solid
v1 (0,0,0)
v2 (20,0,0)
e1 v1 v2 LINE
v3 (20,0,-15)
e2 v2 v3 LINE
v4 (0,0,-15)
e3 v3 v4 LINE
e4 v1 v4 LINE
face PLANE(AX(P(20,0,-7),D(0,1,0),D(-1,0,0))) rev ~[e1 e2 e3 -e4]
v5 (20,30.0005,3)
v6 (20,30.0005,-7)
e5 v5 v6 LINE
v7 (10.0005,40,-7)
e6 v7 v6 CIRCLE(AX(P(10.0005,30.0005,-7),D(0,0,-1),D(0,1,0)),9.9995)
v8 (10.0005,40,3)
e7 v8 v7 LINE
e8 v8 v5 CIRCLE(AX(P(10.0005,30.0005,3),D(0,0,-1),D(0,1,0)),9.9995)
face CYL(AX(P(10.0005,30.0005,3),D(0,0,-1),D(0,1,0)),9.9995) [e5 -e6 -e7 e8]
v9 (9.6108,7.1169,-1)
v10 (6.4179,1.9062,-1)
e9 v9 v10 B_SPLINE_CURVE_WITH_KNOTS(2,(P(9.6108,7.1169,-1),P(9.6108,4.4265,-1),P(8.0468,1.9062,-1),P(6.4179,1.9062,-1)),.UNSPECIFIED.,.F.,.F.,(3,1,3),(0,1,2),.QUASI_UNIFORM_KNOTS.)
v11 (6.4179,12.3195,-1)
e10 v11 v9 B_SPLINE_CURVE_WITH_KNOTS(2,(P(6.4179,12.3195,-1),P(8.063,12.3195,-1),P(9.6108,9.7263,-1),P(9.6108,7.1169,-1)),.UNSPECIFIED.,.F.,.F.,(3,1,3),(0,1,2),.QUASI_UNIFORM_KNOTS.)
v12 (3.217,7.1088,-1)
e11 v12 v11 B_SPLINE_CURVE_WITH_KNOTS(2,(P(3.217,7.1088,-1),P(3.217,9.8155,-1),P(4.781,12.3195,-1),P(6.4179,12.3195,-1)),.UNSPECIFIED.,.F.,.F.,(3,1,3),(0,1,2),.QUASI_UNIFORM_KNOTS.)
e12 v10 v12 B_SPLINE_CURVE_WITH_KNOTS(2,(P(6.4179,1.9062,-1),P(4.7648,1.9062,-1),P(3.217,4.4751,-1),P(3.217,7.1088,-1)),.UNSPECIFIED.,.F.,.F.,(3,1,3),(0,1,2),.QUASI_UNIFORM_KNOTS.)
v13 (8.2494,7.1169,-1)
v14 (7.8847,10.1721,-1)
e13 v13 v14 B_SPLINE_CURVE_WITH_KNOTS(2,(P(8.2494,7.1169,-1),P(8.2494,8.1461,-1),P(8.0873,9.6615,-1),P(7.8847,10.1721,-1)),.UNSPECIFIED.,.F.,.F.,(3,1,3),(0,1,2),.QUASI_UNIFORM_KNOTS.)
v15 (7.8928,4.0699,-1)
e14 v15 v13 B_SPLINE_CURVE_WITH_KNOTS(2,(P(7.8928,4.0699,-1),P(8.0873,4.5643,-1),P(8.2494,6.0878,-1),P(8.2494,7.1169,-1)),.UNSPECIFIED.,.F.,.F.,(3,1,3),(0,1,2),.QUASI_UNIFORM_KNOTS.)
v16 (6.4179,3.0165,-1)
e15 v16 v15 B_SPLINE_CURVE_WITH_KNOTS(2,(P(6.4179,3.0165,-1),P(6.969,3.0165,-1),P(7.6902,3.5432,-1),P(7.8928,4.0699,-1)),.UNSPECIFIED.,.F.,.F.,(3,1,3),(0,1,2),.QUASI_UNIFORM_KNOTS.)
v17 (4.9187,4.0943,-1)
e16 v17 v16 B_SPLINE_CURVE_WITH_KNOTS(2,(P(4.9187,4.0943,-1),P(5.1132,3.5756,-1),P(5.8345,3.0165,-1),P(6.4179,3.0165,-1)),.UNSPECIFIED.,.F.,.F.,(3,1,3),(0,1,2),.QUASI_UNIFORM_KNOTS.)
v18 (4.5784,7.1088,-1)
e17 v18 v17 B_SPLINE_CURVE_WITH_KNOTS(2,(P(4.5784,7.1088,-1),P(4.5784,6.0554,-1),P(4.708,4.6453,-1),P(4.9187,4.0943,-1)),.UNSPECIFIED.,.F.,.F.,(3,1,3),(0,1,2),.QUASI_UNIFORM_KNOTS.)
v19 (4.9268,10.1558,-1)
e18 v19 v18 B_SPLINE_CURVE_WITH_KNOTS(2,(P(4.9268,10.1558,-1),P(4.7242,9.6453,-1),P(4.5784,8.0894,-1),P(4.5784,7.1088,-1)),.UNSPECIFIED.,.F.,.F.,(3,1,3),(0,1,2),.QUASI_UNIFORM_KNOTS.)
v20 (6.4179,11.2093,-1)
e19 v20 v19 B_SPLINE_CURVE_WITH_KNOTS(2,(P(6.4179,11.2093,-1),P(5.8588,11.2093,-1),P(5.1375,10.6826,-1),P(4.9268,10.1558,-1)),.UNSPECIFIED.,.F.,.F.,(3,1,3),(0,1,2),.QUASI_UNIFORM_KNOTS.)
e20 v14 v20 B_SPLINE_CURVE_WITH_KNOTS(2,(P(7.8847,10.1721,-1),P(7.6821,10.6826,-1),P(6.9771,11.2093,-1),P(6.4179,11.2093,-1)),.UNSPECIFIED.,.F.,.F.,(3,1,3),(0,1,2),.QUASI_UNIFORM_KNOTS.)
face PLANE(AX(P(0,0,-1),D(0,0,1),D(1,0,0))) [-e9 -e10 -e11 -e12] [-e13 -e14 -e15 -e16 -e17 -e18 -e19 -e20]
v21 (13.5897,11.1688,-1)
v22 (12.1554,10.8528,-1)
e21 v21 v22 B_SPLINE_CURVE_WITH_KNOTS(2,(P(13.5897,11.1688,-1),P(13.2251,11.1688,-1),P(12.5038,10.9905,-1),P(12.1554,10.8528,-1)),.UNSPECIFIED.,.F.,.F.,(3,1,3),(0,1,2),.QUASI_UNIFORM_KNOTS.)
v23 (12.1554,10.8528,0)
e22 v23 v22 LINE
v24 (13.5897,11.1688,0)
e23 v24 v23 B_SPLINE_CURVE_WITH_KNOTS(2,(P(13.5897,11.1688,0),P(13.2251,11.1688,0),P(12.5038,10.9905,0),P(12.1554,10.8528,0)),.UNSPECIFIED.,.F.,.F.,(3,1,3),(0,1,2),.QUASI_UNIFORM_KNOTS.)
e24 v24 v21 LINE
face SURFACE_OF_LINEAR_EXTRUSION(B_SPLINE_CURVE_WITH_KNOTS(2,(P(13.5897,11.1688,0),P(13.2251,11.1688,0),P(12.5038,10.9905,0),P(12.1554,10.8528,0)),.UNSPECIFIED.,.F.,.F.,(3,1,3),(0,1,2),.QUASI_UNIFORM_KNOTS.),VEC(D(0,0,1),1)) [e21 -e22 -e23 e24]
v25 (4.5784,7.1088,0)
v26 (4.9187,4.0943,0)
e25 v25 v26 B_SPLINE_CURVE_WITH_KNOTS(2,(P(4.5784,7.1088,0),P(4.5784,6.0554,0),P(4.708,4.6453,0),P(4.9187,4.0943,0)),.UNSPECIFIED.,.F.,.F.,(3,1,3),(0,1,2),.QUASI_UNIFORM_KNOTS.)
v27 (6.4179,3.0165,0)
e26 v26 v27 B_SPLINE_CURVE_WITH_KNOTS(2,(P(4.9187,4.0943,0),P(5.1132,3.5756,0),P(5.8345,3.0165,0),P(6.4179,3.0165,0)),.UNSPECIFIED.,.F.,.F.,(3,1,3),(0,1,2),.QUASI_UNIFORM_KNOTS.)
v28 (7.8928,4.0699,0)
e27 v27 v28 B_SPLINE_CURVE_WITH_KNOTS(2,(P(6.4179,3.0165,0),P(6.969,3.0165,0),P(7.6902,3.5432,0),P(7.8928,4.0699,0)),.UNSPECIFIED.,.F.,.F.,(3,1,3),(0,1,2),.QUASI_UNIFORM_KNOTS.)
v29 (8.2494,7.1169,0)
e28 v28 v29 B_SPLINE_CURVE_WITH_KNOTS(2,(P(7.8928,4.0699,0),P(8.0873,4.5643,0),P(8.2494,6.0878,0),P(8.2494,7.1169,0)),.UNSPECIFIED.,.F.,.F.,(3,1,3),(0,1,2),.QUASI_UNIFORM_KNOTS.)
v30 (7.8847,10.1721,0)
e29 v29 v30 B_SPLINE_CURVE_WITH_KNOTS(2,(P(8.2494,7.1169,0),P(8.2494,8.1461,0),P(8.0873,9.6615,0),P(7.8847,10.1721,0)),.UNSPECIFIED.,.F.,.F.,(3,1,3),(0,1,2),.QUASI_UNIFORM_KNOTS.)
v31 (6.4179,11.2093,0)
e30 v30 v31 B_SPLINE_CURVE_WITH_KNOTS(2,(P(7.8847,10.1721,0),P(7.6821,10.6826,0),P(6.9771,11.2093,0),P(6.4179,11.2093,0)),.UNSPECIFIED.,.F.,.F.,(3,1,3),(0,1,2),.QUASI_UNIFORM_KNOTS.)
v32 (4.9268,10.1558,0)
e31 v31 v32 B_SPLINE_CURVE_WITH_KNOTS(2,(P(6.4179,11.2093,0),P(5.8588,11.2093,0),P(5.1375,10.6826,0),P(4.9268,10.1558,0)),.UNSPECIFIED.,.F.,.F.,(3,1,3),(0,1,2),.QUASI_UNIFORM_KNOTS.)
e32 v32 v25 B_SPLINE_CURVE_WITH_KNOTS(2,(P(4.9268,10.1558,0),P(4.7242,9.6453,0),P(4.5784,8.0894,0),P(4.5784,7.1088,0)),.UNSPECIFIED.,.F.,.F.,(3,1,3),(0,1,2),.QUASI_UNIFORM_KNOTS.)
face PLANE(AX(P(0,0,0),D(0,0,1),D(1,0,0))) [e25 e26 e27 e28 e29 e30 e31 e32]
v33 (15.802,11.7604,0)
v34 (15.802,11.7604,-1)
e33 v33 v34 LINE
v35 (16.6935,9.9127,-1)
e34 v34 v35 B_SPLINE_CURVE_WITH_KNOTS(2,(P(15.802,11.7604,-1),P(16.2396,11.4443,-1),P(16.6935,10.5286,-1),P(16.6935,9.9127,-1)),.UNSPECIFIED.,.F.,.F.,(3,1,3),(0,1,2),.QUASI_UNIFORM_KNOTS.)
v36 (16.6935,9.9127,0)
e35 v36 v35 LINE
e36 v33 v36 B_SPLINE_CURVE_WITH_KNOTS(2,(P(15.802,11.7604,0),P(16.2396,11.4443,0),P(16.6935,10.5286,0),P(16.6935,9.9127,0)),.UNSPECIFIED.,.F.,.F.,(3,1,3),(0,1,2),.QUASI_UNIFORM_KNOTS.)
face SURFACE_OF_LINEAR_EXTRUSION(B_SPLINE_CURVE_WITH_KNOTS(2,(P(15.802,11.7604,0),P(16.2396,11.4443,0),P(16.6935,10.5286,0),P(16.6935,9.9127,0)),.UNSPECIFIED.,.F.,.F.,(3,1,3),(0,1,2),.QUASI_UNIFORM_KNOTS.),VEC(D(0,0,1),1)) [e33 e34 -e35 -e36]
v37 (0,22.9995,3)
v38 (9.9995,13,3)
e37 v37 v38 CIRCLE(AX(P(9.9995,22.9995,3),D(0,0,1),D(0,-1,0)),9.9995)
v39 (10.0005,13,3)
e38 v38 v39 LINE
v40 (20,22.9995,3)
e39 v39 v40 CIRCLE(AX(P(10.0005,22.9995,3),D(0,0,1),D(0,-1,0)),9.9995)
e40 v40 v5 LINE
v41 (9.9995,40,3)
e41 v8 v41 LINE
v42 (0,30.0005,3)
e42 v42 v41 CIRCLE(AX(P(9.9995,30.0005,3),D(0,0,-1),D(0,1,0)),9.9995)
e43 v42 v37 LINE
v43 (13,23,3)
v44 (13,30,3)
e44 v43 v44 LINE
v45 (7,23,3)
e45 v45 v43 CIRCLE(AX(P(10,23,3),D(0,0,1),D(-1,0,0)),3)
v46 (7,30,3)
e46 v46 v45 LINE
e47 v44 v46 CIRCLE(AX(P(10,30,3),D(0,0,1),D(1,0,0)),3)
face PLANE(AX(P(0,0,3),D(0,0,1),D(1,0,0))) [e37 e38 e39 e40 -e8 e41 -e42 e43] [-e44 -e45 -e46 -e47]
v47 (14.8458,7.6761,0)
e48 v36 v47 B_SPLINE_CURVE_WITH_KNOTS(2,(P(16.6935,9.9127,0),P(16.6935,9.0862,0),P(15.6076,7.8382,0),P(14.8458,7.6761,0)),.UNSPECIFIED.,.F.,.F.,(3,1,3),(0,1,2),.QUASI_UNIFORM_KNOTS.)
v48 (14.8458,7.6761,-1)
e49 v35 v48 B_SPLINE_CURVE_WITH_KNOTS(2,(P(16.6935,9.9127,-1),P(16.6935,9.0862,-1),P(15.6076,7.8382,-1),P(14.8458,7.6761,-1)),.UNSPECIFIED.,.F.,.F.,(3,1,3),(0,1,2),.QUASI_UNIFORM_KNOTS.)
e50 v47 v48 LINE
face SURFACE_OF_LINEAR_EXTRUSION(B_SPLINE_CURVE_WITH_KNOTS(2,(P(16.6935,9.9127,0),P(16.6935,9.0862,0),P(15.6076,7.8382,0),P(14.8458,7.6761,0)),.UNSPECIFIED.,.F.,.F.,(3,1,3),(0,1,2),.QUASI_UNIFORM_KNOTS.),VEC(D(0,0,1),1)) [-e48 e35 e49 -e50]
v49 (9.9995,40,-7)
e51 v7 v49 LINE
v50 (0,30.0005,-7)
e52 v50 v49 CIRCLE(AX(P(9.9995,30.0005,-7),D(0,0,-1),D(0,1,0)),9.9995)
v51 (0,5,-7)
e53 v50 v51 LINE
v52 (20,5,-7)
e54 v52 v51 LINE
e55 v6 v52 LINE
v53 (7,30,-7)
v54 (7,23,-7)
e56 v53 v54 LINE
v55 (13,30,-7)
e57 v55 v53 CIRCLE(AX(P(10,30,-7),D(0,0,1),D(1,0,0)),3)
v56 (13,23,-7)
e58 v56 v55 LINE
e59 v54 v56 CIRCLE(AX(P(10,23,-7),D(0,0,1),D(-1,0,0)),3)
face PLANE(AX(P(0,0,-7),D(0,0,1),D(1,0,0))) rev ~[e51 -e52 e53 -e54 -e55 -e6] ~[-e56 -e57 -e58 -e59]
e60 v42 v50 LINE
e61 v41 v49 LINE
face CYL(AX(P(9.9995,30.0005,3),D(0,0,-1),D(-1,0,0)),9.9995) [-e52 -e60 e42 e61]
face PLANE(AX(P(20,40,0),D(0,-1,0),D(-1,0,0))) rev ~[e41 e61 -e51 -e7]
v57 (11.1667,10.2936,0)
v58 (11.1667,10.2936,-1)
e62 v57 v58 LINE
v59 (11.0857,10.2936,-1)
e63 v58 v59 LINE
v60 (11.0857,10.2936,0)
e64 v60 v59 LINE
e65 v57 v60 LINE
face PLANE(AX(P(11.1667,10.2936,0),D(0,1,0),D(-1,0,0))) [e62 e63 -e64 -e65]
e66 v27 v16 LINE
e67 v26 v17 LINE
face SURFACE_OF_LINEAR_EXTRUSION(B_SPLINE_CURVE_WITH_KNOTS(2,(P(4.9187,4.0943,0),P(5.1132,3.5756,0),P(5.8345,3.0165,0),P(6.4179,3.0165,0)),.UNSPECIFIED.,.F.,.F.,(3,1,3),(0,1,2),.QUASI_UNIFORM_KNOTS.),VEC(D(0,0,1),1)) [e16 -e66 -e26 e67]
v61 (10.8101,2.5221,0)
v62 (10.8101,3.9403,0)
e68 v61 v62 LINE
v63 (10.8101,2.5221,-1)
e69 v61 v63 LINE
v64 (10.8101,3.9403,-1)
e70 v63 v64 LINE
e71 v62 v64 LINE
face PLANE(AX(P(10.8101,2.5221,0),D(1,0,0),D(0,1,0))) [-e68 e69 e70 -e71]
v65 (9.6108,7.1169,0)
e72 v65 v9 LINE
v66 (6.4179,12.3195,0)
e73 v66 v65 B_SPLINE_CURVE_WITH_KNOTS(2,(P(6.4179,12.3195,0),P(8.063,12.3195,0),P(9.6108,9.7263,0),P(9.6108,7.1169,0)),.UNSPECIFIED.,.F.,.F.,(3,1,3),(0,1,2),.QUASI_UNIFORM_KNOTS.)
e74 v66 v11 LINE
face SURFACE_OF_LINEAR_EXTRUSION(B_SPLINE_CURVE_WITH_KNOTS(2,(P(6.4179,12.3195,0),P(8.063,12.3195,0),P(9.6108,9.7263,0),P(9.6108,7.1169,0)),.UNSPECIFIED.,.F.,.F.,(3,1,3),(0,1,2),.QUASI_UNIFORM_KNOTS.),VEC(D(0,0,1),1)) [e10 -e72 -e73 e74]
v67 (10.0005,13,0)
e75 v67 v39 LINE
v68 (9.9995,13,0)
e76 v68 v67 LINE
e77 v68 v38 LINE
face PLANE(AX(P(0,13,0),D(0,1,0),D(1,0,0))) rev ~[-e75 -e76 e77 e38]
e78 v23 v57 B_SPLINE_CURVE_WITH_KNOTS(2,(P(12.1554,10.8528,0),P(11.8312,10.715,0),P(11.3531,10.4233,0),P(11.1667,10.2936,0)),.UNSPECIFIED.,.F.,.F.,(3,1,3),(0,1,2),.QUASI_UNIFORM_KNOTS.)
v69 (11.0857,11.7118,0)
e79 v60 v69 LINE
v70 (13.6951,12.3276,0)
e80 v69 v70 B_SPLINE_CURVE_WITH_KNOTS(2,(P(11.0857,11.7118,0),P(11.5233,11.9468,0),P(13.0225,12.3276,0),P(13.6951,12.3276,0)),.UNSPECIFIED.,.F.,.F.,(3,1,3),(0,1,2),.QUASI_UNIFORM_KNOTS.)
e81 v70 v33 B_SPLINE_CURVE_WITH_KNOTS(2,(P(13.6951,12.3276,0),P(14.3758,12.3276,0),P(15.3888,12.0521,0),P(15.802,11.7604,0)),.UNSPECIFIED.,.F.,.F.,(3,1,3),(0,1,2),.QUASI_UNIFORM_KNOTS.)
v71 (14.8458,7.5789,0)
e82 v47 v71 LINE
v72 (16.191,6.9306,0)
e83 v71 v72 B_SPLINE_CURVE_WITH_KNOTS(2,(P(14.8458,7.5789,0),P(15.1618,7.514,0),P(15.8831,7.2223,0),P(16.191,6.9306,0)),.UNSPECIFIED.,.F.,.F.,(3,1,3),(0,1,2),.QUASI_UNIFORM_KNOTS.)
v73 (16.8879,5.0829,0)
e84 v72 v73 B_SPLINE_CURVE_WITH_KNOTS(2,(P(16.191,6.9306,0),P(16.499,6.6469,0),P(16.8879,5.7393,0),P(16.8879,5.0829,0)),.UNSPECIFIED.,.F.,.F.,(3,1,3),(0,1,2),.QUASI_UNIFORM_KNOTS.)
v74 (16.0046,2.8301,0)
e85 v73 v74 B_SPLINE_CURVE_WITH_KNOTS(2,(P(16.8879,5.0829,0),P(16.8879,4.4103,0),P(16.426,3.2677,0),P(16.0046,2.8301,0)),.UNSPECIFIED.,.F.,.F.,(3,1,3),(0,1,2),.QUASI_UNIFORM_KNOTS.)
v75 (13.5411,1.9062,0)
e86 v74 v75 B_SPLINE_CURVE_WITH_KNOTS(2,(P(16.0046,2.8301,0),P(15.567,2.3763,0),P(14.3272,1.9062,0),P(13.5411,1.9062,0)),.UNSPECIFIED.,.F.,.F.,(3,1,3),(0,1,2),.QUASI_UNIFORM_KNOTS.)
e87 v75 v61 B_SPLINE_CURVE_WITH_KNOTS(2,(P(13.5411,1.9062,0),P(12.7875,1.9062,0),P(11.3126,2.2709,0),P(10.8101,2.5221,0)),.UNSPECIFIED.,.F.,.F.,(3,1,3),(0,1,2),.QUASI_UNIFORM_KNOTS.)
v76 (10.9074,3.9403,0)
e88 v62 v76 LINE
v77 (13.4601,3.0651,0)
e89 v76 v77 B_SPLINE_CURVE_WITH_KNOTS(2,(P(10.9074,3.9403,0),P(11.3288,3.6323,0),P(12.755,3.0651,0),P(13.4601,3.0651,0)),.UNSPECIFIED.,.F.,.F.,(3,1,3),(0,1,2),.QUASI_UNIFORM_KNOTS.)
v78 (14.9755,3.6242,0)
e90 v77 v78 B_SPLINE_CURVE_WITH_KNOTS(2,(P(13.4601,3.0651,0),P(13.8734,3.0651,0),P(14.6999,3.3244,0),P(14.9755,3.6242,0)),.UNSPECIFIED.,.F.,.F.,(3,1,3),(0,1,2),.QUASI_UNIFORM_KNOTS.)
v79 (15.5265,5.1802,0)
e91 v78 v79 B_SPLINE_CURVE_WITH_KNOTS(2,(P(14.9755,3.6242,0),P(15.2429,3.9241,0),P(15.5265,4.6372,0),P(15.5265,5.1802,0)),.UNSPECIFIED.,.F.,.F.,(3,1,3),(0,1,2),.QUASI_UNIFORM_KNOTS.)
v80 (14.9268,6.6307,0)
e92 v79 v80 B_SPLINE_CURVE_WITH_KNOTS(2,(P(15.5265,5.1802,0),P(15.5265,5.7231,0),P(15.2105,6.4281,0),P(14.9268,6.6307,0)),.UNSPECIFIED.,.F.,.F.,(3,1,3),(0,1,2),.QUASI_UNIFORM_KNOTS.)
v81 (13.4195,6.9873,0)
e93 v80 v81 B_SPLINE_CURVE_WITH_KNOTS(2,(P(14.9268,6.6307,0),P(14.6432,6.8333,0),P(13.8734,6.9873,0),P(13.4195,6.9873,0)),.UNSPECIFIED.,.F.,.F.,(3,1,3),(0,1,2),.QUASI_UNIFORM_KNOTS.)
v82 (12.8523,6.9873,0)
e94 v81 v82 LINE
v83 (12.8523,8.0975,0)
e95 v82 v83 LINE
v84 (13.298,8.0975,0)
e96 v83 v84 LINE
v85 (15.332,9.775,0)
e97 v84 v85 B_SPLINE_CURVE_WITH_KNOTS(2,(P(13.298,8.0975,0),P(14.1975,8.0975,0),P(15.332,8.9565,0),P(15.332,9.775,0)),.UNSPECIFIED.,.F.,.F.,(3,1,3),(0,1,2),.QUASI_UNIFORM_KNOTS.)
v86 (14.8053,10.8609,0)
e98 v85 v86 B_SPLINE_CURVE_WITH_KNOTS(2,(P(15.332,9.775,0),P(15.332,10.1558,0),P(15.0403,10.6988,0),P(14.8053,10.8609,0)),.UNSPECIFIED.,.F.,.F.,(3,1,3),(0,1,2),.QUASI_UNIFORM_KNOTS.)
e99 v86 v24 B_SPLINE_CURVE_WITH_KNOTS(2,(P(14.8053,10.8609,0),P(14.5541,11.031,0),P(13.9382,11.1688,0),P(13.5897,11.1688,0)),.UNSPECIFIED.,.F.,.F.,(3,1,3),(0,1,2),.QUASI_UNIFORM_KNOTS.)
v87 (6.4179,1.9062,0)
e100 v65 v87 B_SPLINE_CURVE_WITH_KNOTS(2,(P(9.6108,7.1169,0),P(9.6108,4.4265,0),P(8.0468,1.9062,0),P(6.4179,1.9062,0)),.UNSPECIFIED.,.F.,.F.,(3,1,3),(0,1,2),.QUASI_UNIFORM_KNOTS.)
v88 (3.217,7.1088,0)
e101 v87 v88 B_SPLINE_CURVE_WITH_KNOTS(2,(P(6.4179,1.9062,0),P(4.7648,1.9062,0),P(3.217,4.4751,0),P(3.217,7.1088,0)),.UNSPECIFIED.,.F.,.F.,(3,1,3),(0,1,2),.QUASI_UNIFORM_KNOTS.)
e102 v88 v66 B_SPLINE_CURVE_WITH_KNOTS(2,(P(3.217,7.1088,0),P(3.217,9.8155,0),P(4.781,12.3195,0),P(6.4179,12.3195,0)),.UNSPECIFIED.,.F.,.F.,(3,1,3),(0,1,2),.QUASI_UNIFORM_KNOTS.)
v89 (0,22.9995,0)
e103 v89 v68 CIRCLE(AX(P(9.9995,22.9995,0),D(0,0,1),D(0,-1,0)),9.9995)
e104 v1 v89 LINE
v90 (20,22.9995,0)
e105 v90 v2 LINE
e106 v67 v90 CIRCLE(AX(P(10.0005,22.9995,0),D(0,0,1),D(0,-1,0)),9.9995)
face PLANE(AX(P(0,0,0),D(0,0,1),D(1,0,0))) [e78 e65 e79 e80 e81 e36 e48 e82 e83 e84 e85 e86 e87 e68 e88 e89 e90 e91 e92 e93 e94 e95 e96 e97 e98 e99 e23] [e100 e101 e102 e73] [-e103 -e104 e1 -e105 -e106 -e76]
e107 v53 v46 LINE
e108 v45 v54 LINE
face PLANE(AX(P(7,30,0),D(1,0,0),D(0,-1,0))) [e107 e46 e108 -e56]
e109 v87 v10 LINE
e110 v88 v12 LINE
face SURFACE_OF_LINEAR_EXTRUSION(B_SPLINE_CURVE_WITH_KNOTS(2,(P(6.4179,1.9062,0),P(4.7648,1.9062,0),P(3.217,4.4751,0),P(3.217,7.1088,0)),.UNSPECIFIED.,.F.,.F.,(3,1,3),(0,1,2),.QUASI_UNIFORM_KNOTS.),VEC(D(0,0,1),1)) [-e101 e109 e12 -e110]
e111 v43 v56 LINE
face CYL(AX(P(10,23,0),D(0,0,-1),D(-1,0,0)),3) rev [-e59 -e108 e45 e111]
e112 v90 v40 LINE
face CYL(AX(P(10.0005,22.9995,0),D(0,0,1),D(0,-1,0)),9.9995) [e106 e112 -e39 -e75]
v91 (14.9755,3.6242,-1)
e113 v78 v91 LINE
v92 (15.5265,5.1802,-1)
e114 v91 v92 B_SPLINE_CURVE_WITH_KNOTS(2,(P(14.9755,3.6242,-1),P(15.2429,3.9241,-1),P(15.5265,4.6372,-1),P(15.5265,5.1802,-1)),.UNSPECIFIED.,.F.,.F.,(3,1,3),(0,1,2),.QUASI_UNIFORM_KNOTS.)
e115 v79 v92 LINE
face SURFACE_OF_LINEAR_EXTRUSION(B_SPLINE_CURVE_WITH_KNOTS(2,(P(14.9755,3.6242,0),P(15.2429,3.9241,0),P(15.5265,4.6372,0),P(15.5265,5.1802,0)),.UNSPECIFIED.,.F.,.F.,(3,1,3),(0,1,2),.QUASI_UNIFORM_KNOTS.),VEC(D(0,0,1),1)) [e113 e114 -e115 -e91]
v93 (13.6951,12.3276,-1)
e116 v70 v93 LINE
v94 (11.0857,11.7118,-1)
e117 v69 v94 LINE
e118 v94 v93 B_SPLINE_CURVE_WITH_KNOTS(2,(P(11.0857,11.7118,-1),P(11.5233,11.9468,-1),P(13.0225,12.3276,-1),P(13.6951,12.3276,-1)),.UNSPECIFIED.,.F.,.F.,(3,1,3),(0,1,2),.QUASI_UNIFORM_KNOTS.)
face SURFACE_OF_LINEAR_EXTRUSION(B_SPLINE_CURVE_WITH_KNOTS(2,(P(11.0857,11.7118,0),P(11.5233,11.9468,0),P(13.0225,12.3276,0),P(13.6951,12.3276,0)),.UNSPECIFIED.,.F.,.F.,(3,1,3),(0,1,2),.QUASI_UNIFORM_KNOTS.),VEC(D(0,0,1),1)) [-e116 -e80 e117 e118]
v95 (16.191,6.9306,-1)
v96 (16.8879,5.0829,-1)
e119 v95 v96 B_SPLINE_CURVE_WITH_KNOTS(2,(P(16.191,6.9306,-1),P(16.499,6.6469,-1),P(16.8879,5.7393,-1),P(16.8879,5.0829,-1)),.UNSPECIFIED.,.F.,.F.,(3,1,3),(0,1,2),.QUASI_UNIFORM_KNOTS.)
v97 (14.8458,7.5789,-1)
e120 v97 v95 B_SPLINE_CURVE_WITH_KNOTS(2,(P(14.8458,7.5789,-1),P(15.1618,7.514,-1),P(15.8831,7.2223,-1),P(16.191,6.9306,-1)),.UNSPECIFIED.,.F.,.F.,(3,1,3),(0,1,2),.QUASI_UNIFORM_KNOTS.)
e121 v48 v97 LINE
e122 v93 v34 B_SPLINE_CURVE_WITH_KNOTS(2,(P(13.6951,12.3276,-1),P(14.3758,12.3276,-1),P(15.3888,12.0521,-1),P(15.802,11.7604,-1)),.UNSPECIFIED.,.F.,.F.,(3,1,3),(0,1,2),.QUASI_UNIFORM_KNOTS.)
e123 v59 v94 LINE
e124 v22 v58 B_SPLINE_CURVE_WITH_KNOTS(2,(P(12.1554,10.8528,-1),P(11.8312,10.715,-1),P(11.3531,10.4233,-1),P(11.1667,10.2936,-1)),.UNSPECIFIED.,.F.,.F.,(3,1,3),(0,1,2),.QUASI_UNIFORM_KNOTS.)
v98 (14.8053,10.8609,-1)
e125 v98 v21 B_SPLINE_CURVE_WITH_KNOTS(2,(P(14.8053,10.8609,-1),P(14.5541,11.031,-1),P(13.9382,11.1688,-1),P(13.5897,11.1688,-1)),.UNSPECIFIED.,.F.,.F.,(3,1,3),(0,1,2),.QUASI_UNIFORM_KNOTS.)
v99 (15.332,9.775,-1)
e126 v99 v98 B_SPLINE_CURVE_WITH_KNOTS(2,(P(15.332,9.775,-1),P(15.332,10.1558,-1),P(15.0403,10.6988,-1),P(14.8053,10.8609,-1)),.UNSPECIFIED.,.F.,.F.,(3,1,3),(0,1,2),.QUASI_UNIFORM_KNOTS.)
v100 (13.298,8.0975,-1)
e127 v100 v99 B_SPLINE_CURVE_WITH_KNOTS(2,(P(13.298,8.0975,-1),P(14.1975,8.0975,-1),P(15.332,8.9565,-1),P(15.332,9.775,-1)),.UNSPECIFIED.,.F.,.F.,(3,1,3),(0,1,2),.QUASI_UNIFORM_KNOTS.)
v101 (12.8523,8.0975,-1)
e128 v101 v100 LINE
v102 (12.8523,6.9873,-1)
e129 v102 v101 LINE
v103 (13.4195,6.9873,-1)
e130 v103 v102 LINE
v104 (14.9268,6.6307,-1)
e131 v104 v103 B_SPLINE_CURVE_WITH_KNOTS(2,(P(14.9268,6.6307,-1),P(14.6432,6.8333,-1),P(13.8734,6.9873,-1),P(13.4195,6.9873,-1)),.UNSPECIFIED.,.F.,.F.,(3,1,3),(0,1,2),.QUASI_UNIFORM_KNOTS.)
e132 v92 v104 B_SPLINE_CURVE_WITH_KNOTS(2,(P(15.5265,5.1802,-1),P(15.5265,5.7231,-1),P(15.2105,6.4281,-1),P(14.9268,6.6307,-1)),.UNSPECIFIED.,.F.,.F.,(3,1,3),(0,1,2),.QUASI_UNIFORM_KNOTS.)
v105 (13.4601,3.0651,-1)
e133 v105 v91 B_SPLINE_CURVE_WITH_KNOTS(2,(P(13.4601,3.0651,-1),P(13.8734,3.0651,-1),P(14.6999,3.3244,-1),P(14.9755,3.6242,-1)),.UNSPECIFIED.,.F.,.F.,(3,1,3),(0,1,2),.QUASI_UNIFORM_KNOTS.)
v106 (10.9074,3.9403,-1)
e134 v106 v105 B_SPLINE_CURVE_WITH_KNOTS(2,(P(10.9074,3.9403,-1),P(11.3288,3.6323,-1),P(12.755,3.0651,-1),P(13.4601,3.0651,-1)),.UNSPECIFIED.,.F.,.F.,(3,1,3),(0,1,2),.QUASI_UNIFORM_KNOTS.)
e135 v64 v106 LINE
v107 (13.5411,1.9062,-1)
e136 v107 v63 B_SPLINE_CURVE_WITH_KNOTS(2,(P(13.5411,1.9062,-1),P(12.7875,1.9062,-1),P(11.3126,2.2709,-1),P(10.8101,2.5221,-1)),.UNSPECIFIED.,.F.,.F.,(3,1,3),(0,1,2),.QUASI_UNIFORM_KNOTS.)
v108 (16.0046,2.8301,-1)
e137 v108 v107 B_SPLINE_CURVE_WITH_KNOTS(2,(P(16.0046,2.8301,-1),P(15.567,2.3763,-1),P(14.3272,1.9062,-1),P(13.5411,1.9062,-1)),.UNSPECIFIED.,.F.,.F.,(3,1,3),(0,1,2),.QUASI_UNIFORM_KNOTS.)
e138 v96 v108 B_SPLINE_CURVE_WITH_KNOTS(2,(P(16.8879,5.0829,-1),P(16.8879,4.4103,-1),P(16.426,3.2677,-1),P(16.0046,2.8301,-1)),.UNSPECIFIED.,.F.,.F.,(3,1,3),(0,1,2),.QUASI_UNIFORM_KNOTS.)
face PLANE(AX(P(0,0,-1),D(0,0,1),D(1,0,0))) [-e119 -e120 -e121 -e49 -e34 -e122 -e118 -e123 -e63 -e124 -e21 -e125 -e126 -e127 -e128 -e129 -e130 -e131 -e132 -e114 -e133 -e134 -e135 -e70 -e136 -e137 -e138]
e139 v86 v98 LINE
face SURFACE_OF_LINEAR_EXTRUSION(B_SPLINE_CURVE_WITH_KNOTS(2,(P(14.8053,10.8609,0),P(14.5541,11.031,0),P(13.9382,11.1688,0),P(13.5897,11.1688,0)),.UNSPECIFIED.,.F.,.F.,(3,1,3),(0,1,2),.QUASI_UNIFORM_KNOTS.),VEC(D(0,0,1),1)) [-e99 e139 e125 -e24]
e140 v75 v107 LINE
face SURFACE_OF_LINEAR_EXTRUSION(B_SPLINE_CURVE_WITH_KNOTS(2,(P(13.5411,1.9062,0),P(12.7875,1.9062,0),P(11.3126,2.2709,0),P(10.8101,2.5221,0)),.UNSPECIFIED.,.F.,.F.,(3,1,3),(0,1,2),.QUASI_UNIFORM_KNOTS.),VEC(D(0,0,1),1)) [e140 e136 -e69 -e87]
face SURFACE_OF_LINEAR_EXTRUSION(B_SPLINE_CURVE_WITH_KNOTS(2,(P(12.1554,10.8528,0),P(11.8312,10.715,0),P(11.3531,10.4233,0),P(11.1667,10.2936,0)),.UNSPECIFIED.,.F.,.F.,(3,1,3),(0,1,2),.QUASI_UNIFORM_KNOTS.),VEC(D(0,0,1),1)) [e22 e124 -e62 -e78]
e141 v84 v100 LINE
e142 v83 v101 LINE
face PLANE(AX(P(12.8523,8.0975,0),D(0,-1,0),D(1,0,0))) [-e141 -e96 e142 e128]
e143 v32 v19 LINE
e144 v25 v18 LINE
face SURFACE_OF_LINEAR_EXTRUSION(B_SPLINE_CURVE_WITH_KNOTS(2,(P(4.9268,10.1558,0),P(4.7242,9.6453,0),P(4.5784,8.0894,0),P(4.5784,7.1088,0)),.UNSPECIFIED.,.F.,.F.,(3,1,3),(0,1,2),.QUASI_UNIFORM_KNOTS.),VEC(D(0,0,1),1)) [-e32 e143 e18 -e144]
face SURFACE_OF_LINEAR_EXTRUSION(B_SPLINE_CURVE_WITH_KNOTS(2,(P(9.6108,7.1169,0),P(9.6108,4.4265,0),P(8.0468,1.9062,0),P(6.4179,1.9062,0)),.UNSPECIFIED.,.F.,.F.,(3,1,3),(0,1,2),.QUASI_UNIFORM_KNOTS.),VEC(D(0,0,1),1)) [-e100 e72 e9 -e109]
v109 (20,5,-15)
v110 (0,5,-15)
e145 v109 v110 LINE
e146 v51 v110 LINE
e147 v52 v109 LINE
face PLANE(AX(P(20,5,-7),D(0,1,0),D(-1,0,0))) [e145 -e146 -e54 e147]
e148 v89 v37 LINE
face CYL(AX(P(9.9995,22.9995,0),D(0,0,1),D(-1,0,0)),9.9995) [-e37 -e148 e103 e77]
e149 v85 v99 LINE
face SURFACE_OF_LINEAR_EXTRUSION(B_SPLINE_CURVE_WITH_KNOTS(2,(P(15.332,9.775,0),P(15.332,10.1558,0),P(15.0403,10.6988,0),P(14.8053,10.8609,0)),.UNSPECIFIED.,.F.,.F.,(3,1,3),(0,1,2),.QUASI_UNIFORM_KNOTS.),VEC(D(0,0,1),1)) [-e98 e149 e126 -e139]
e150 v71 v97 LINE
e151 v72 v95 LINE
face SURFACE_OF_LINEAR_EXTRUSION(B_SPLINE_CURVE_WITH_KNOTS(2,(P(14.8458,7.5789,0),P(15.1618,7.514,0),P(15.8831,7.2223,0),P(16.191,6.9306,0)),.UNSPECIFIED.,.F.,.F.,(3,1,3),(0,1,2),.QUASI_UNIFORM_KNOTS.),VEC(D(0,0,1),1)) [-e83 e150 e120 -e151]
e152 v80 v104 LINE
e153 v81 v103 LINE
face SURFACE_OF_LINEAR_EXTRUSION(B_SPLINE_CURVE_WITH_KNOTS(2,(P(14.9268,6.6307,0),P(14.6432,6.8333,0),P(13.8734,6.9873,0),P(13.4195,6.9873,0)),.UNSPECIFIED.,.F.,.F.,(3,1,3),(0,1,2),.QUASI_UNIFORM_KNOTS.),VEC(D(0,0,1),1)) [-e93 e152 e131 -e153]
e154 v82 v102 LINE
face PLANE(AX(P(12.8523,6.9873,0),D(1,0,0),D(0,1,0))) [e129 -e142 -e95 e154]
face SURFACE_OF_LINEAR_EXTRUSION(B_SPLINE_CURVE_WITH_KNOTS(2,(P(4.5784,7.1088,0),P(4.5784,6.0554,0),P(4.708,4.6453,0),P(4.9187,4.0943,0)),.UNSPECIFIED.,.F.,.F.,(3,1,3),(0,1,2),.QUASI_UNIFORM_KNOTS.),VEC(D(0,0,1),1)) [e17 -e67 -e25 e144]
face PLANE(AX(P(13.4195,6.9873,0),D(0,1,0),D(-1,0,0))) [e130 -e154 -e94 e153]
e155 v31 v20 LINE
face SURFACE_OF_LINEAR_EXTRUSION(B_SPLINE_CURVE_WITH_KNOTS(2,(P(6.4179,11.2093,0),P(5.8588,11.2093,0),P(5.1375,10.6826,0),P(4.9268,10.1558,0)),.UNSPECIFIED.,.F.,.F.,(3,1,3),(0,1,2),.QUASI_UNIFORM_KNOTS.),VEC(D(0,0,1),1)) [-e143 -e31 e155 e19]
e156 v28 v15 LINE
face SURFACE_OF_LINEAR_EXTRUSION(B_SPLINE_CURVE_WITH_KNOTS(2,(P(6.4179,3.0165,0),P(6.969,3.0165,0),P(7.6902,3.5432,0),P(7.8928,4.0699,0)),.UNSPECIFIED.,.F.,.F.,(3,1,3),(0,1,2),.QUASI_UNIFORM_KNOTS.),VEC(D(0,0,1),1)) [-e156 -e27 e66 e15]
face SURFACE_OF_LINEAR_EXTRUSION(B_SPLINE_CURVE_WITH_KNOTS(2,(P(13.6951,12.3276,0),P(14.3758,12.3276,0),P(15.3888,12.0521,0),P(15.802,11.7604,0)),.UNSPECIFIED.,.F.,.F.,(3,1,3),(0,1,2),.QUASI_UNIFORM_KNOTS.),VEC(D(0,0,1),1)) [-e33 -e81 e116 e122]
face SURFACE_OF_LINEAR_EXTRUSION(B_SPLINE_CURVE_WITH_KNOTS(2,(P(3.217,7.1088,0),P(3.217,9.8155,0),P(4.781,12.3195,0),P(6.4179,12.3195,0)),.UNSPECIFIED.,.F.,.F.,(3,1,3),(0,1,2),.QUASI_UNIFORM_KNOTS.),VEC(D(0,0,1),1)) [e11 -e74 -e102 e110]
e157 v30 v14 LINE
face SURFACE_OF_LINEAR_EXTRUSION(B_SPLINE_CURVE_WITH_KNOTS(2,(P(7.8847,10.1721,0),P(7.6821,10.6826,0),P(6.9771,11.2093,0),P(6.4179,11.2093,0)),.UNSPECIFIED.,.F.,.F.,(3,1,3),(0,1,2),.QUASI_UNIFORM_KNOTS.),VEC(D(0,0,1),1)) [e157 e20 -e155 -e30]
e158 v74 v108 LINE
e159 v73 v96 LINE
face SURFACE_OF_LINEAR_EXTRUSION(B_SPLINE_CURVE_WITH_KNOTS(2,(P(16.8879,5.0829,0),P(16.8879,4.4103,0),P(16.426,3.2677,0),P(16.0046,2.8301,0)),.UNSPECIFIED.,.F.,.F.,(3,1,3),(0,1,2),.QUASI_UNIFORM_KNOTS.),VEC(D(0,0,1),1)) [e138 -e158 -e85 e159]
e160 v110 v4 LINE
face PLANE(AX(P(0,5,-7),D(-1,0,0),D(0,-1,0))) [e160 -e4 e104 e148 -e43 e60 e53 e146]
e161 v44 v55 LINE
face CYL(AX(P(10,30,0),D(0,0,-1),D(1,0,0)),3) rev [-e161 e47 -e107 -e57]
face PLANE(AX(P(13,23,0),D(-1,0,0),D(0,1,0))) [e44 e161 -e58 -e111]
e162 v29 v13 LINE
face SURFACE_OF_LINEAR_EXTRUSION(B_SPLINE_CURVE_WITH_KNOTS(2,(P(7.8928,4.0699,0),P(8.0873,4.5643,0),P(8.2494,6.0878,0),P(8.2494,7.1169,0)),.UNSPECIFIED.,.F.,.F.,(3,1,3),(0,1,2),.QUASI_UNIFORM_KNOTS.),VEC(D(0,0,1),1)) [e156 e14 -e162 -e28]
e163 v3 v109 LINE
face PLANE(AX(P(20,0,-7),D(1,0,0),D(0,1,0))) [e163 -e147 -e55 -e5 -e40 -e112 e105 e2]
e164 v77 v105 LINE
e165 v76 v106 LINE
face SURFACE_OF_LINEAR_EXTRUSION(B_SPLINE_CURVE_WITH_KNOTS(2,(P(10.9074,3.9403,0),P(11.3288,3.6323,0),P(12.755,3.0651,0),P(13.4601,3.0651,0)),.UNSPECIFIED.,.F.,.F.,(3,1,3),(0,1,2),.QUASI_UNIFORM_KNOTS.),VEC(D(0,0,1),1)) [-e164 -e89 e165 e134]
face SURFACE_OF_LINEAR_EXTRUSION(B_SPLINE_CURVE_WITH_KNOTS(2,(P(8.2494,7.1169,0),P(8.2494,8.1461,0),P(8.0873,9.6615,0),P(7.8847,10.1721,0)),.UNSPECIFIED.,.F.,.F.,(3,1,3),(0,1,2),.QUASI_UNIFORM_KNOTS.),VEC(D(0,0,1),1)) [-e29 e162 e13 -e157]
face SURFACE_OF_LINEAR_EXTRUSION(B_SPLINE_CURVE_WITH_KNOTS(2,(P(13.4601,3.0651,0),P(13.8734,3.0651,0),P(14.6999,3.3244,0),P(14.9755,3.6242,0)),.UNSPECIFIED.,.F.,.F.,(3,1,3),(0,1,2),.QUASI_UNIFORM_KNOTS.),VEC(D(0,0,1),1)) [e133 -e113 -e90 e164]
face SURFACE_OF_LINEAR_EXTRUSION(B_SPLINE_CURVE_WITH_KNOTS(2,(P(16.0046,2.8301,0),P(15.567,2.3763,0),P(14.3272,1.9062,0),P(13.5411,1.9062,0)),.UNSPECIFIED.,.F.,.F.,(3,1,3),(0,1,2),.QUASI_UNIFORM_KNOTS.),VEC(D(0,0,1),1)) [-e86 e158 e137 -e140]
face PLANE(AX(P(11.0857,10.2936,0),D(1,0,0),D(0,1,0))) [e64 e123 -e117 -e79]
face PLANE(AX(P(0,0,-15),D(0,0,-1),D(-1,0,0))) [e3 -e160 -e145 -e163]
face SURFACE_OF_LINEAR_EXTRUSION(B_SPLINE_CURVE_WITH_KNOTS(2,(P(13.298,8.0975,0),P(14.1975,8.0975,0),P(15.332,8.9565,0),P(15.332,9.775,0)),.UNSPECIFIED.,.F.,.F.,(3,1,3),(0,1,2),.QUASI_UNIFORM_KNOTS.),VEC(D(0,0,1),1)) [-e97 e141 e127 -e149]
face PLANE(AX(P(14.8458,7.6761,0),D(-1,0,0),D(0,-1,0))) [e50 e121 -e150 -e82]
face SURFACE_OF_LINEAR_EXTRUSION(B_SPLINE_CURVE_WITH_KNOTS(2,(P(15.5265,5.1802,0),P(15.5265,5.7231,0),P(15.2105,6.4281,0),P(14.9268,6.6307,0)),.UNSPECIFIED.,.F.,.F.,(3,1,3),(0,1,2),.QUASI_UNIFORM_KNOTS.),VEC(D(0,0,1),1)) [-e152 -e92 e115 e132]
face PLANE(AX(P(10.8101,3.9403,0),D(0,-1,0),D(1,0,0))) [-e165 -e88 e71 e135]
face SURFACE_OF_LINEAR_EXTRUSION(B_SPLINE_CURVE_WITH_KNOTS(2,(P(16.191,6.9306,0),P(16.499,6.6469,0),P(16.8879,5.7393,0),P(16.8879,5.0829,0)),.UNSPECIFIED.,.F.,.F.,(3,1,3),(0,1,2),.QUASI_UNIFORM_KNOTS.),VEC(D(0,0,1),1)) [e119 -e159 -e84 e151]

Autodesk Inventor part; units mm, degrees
ref_plane "YZ Plane" through (0, 0, 0) normal (1, 0, 0) x (0, 1, 0)
ref_plane "XZ Plane" through (0, 0, 0) normal (0, 1, 0) x (-1, 0, 0)
ref_plane "XY Plane" through (0, 0, 0) normal (0, 0, 1) x (1, 0, 0)
sketch "스케치1" plane through (0, 0, 0) normal (0, 0, 1) x (1, 0, 0)
  line L0 (0, 0) -> (20, 0)
  line L1 (20, 0) -> (20, 40)
  line L2 (20, 40) -> (0, 40)
  line L3 (0, 40) -> (0, 0)
  line L4 (0, 13) -> (20, 13)
  line L5 (10, 30) -> (10, 23) construction
  line L6 (7, 30) -> (7, 23)
  line L7 (13, 23) -> (13, 30)
  arc A0 (13, 30) -> (7, 30) centre (10, 30) ccw
  arc A1 (7, 23) -> (13, 23) centre (10, 23) ccw
  point P0 (10, 26.5)
  dimension "d0" = 20
  dimension "d1" = 40
  dimension "d2" = 27
  dimension "d4" = 7
  dimension "d5" = 13.5
  dimension "d6" = 10
  dimension "d7" = 3
extrude "돌출1" add sketch "스케치1" against normal blind 7
extrude "돌출2" add sketch "스케치1" along normal blind 3 contours L3 L2 L1 L4
fillet "모깎기1" radius 10 4 edges at (20, 40, -2) (0, 40, -2) (20, 13, 1.5) (0, 13, 1.5)
sketch "스케치2" plane through (0, 0, -7) normal (0, 0, -1) x (-1, 0, 0)
  line L0 (-20, 0) -> (-20, 23) projected
  line L1 (-20, 0) -> (0, 0) projected
  line L2 (-20, 0) -> (-20, 30) projected
  arc A0 (0, 30) -> (-20, 30) centre (-10, 30) ccw projected
  line L3 (0, 30) -> (0, 0) projected
  line L4 (0, 0) -> (-20, 0) projected
  line L5 (-13, 30) -> (-13, 23) projected
  arc A1 (-13, 23) -> (-7, 23) centre (-10, 23) ccw projected
  line L6 (-7, 23) -> (-7, 30) projected
  arc A2 (-7, 30) -> (-13, 30) centre (-10, 30) ccw projected
  line L7 (-20, 5) -> (0, 5)
  dimension "d14" = 5
extrude "돌출3" add sketch "스케치2" along normal blind 8 contours L0 L7 L3 L1
sketch "스케치3" plane through (0, 0, 0) normal (0, 0, 1) x (1, 0, 0)
  line L0 (2.6578, 12.3276) -> (17.6998, 12.3276) construction
  line L1 (17.6998, 12.3276) -> (17.6998, 1.5834) construction
  line L2 (17.6998, 1.5834) -> (2.6578, 1.5834) construction
  line L3 (2.6578, 1.5834) -> (2.6578, 12.3276) construction
  spline S0 degree 2 poles (9.6108, 7.1169) (9.6108, 4.4265) (8.0468, 1.9062) (6.4179, 1.9062) knots 0 0 0 1 2 2 2
  spline S1 degree 2 poles (6.4179, 1.9062) (4.7648, 1.9062) (3.217, 4.4751) (3.217, 7.1088) knots 0 0 0 1 2 2 2
  spline S2 degree 2 poles (3.217, 7.1088) (3.217, 9.8155) (4.781, 12.3195) (6.4179, 12.3195) knots 0 0 0 1 2 2 2
  spline S3 degree 2 poles (6.4179, 12.3195) (8.063, 12.3195) (9.6108, 9.7263) (9.6108, 7.1169) knots 0 0 0 1 2 2 2
  spline S4 degree 2 poles (7.8928, 4.0699) (8.0873, 4.5643) (8.2494, 6.0878) (8.2494, 7.1169) knots 0 0 0 1 2 2 2
  spline S5 degree 2 poles (8.2494, 7.1169) (8.2494, 8.1461) (8.0873, 9.6615) (7.8847, 10.1721) knots 0 0 0 1 2 2 2
  spline S6 degree 2 poles (7.8847, 10.1721) (7.6821, 10.6826) (6.9771, 11.2093) (6.4179, 11.2093) knots 0 0 0 1 2 2 2
  spline S7 degree 2 poles (6.4179, 11.2093) (5.8588, 11.2093) (5.1375, 10.6826) (4.9268, 10.1558) knots 0 0 0 1 2 2 2
  spline S8 degree 2 poles (4.9268, 10.1558) (4.7242, 9.6453) (4.5784, 8.0894) (4.5784, 7.1088) knots 0 0 0 1 2 2 2
  spline S9 degree 2 poles (4.5784, 7.1088) (4.5784, 6.0554) (4.708, 4.6453) (4.9187, 4.0943) knots 0 0 0 1 2 2 2
  spline S10 degree 2 poles (4.9187, 4.0943) (5.1132, 3.5756) (5.8345, 3.0165) (6.4179, 3.0165) knots 0 0 0 1 2 2 2
  spline S11 degree 2 poles (6.4179, 3.0165) (6.969, 3.0165) (7.6902, 3.5432) (7.8928, 4.0699) knots 0 0 0 1 2 2 2
  spline S12 degree 2 poles (13.5897, 11.1688) (13.2251, 11.1688) (12.5038, 10.9905) (12.1554, 10.8528) knots 0 0 0 1 2 2 2
  spline S13 degree 2 poles (12.1554, 10.8528) (11.8312, 10.715) (11.3531, 10.4233) (11.1667, 10.2936) knots 0 0 0 1 2 2 2
  line L4 (11.1667, 10.2936) -> (11.0857, 10.2936)
  line L5 (11.0857, 10.2936) -> (11.0857, 11.7118)
  spline S14 degree 2 poles (11.0857, 11.7118) (11.5233, 11.9468) (13.0225, 12.3276) (13.6951, 12.3276) knots 0 0 0 1 2 2 2
  spline S15 degree 2 poles (13.6951, 12.3276) (14.3758, 12.3276) (15.3888, 12.0521) (15.802, 11.7604) knots 0 0 0 1 2 2 2
  spline S16 degree 2 poles (15.802, 11.7604) (16.2396, 11.4443) (16.6935, 10.5286) (16.6935, 9.9127) knots 0 0 0 1 2 2 2
  spline S17 degree 2 poles (16.6935, 9.9127) (16.6935, 9.0862) (15.6076, 7.8382) (14.8458, 7.6761) knots 0 0 0 1 2 2 2
  line L6 (14.8458, 7.6761) -> (14.8458, 7.5789)
  spline S18 degree 2 poles (14.8458, 7.5789) (15.1618, 7.514) (15.8831, 7.2223) (16.191, 6.9306) knots 0 0 0 1 2 2 2
  spline S19 degree 2 poles (16.191, 6.9306) (16.499, 6.6469) (16.8879, 5.7393) (16.8879, 5.0829) knots 0 0 0 1 2 2 2
  spline S20 degree 2 poles (16.8879, 5.0829) (16.8879, 4.4103) (16.426, 3.2677) (16.0046, 2.8301) knots 0 0 0 1 2 2 2
  spline S21 degree 2 poles (16.0046, 2.8301) (15.567, 2.3763) (14.3272, 1.9062) (13.5411, 1.9062) knots 0 0 0 1 2 2 2
  spline S22 degree 2 poles (13.5411, 1.9062) (12.7875, 1.9062) (11.3126, 2.2709) (10.8101, 2.5221) knots 0 0 0 1 2 2 2
  line L7 (10.8101, 2.5221) -> (10.8101, 3.9403)
  line L8 (10.8101, 3.9403) -> (10.9074, 3.9403)
  spline S23 degree 2 poles (10.9074, 3.9403) (11.3288, 3.6323) (12.755, 3.0651) (13.4601, 3.0651) knots 0 0 0 1 2 2 2
  spline S24 degree 2 poles (13.4601, 3.0651) (13.8734, 3.0651) (14.6999, 3.3244) (14.9755, 3.6242) knots 0 0 0 1 2 2 2
  spline S25 degree 2 poles (14.9755, 3.6242) (15.2429, 3.9241) (15.5265, 4.6372) (15.5265, 5.1802) knots 0 0 0 1 2 2 2
  spline S26 degree 2 poles (15.5265, 5.1802) (15.5265, 5.7231) (15.2105, 6.4281) (14.9268, 6.6307) knots 0 0 0 1 2 2 2
  spline S27 degree 2 poles (14.9268, 6.6307) (14.6432, 6.8333) (13.8734, 6.9873) (13.4195, 6.9873) knots 0 0 0 1 2 2 2
  line L9 (13.4195, 6.9873) -> (12.8523, 6.9873)
  line L10 (12.8523, 6.9873) -> (12.8523, 8.0975)
  line L11 (12.8523, 8.0975) -> (13.298, 8.0975)
  spline S28 degree 2 poles (13.298, 8.0975) (14.1975, 8.0975) (15.332, 8.9565) (15.332, 9.775) knots 0 0 0 1 2 2 2
  spline S29 degree 2 poles (15.332, 9.775) (15.332, 10.1558) (15.0403, 10.6988) (14.8053, 10.8609) knots 0 0 0 1 2 2 2
  spline S30 degree 2 poles (14.8053, 10.8609) (14.5541, 11.031) (13.9382, 11.1688) (13.5897, 11.1688) knots 0 0 0 1 2 2 2
  point P0 (0, 0)
extrude "돌출4" cut sketch "스케치3" against normal blind 1
properties part number "1번부품"
